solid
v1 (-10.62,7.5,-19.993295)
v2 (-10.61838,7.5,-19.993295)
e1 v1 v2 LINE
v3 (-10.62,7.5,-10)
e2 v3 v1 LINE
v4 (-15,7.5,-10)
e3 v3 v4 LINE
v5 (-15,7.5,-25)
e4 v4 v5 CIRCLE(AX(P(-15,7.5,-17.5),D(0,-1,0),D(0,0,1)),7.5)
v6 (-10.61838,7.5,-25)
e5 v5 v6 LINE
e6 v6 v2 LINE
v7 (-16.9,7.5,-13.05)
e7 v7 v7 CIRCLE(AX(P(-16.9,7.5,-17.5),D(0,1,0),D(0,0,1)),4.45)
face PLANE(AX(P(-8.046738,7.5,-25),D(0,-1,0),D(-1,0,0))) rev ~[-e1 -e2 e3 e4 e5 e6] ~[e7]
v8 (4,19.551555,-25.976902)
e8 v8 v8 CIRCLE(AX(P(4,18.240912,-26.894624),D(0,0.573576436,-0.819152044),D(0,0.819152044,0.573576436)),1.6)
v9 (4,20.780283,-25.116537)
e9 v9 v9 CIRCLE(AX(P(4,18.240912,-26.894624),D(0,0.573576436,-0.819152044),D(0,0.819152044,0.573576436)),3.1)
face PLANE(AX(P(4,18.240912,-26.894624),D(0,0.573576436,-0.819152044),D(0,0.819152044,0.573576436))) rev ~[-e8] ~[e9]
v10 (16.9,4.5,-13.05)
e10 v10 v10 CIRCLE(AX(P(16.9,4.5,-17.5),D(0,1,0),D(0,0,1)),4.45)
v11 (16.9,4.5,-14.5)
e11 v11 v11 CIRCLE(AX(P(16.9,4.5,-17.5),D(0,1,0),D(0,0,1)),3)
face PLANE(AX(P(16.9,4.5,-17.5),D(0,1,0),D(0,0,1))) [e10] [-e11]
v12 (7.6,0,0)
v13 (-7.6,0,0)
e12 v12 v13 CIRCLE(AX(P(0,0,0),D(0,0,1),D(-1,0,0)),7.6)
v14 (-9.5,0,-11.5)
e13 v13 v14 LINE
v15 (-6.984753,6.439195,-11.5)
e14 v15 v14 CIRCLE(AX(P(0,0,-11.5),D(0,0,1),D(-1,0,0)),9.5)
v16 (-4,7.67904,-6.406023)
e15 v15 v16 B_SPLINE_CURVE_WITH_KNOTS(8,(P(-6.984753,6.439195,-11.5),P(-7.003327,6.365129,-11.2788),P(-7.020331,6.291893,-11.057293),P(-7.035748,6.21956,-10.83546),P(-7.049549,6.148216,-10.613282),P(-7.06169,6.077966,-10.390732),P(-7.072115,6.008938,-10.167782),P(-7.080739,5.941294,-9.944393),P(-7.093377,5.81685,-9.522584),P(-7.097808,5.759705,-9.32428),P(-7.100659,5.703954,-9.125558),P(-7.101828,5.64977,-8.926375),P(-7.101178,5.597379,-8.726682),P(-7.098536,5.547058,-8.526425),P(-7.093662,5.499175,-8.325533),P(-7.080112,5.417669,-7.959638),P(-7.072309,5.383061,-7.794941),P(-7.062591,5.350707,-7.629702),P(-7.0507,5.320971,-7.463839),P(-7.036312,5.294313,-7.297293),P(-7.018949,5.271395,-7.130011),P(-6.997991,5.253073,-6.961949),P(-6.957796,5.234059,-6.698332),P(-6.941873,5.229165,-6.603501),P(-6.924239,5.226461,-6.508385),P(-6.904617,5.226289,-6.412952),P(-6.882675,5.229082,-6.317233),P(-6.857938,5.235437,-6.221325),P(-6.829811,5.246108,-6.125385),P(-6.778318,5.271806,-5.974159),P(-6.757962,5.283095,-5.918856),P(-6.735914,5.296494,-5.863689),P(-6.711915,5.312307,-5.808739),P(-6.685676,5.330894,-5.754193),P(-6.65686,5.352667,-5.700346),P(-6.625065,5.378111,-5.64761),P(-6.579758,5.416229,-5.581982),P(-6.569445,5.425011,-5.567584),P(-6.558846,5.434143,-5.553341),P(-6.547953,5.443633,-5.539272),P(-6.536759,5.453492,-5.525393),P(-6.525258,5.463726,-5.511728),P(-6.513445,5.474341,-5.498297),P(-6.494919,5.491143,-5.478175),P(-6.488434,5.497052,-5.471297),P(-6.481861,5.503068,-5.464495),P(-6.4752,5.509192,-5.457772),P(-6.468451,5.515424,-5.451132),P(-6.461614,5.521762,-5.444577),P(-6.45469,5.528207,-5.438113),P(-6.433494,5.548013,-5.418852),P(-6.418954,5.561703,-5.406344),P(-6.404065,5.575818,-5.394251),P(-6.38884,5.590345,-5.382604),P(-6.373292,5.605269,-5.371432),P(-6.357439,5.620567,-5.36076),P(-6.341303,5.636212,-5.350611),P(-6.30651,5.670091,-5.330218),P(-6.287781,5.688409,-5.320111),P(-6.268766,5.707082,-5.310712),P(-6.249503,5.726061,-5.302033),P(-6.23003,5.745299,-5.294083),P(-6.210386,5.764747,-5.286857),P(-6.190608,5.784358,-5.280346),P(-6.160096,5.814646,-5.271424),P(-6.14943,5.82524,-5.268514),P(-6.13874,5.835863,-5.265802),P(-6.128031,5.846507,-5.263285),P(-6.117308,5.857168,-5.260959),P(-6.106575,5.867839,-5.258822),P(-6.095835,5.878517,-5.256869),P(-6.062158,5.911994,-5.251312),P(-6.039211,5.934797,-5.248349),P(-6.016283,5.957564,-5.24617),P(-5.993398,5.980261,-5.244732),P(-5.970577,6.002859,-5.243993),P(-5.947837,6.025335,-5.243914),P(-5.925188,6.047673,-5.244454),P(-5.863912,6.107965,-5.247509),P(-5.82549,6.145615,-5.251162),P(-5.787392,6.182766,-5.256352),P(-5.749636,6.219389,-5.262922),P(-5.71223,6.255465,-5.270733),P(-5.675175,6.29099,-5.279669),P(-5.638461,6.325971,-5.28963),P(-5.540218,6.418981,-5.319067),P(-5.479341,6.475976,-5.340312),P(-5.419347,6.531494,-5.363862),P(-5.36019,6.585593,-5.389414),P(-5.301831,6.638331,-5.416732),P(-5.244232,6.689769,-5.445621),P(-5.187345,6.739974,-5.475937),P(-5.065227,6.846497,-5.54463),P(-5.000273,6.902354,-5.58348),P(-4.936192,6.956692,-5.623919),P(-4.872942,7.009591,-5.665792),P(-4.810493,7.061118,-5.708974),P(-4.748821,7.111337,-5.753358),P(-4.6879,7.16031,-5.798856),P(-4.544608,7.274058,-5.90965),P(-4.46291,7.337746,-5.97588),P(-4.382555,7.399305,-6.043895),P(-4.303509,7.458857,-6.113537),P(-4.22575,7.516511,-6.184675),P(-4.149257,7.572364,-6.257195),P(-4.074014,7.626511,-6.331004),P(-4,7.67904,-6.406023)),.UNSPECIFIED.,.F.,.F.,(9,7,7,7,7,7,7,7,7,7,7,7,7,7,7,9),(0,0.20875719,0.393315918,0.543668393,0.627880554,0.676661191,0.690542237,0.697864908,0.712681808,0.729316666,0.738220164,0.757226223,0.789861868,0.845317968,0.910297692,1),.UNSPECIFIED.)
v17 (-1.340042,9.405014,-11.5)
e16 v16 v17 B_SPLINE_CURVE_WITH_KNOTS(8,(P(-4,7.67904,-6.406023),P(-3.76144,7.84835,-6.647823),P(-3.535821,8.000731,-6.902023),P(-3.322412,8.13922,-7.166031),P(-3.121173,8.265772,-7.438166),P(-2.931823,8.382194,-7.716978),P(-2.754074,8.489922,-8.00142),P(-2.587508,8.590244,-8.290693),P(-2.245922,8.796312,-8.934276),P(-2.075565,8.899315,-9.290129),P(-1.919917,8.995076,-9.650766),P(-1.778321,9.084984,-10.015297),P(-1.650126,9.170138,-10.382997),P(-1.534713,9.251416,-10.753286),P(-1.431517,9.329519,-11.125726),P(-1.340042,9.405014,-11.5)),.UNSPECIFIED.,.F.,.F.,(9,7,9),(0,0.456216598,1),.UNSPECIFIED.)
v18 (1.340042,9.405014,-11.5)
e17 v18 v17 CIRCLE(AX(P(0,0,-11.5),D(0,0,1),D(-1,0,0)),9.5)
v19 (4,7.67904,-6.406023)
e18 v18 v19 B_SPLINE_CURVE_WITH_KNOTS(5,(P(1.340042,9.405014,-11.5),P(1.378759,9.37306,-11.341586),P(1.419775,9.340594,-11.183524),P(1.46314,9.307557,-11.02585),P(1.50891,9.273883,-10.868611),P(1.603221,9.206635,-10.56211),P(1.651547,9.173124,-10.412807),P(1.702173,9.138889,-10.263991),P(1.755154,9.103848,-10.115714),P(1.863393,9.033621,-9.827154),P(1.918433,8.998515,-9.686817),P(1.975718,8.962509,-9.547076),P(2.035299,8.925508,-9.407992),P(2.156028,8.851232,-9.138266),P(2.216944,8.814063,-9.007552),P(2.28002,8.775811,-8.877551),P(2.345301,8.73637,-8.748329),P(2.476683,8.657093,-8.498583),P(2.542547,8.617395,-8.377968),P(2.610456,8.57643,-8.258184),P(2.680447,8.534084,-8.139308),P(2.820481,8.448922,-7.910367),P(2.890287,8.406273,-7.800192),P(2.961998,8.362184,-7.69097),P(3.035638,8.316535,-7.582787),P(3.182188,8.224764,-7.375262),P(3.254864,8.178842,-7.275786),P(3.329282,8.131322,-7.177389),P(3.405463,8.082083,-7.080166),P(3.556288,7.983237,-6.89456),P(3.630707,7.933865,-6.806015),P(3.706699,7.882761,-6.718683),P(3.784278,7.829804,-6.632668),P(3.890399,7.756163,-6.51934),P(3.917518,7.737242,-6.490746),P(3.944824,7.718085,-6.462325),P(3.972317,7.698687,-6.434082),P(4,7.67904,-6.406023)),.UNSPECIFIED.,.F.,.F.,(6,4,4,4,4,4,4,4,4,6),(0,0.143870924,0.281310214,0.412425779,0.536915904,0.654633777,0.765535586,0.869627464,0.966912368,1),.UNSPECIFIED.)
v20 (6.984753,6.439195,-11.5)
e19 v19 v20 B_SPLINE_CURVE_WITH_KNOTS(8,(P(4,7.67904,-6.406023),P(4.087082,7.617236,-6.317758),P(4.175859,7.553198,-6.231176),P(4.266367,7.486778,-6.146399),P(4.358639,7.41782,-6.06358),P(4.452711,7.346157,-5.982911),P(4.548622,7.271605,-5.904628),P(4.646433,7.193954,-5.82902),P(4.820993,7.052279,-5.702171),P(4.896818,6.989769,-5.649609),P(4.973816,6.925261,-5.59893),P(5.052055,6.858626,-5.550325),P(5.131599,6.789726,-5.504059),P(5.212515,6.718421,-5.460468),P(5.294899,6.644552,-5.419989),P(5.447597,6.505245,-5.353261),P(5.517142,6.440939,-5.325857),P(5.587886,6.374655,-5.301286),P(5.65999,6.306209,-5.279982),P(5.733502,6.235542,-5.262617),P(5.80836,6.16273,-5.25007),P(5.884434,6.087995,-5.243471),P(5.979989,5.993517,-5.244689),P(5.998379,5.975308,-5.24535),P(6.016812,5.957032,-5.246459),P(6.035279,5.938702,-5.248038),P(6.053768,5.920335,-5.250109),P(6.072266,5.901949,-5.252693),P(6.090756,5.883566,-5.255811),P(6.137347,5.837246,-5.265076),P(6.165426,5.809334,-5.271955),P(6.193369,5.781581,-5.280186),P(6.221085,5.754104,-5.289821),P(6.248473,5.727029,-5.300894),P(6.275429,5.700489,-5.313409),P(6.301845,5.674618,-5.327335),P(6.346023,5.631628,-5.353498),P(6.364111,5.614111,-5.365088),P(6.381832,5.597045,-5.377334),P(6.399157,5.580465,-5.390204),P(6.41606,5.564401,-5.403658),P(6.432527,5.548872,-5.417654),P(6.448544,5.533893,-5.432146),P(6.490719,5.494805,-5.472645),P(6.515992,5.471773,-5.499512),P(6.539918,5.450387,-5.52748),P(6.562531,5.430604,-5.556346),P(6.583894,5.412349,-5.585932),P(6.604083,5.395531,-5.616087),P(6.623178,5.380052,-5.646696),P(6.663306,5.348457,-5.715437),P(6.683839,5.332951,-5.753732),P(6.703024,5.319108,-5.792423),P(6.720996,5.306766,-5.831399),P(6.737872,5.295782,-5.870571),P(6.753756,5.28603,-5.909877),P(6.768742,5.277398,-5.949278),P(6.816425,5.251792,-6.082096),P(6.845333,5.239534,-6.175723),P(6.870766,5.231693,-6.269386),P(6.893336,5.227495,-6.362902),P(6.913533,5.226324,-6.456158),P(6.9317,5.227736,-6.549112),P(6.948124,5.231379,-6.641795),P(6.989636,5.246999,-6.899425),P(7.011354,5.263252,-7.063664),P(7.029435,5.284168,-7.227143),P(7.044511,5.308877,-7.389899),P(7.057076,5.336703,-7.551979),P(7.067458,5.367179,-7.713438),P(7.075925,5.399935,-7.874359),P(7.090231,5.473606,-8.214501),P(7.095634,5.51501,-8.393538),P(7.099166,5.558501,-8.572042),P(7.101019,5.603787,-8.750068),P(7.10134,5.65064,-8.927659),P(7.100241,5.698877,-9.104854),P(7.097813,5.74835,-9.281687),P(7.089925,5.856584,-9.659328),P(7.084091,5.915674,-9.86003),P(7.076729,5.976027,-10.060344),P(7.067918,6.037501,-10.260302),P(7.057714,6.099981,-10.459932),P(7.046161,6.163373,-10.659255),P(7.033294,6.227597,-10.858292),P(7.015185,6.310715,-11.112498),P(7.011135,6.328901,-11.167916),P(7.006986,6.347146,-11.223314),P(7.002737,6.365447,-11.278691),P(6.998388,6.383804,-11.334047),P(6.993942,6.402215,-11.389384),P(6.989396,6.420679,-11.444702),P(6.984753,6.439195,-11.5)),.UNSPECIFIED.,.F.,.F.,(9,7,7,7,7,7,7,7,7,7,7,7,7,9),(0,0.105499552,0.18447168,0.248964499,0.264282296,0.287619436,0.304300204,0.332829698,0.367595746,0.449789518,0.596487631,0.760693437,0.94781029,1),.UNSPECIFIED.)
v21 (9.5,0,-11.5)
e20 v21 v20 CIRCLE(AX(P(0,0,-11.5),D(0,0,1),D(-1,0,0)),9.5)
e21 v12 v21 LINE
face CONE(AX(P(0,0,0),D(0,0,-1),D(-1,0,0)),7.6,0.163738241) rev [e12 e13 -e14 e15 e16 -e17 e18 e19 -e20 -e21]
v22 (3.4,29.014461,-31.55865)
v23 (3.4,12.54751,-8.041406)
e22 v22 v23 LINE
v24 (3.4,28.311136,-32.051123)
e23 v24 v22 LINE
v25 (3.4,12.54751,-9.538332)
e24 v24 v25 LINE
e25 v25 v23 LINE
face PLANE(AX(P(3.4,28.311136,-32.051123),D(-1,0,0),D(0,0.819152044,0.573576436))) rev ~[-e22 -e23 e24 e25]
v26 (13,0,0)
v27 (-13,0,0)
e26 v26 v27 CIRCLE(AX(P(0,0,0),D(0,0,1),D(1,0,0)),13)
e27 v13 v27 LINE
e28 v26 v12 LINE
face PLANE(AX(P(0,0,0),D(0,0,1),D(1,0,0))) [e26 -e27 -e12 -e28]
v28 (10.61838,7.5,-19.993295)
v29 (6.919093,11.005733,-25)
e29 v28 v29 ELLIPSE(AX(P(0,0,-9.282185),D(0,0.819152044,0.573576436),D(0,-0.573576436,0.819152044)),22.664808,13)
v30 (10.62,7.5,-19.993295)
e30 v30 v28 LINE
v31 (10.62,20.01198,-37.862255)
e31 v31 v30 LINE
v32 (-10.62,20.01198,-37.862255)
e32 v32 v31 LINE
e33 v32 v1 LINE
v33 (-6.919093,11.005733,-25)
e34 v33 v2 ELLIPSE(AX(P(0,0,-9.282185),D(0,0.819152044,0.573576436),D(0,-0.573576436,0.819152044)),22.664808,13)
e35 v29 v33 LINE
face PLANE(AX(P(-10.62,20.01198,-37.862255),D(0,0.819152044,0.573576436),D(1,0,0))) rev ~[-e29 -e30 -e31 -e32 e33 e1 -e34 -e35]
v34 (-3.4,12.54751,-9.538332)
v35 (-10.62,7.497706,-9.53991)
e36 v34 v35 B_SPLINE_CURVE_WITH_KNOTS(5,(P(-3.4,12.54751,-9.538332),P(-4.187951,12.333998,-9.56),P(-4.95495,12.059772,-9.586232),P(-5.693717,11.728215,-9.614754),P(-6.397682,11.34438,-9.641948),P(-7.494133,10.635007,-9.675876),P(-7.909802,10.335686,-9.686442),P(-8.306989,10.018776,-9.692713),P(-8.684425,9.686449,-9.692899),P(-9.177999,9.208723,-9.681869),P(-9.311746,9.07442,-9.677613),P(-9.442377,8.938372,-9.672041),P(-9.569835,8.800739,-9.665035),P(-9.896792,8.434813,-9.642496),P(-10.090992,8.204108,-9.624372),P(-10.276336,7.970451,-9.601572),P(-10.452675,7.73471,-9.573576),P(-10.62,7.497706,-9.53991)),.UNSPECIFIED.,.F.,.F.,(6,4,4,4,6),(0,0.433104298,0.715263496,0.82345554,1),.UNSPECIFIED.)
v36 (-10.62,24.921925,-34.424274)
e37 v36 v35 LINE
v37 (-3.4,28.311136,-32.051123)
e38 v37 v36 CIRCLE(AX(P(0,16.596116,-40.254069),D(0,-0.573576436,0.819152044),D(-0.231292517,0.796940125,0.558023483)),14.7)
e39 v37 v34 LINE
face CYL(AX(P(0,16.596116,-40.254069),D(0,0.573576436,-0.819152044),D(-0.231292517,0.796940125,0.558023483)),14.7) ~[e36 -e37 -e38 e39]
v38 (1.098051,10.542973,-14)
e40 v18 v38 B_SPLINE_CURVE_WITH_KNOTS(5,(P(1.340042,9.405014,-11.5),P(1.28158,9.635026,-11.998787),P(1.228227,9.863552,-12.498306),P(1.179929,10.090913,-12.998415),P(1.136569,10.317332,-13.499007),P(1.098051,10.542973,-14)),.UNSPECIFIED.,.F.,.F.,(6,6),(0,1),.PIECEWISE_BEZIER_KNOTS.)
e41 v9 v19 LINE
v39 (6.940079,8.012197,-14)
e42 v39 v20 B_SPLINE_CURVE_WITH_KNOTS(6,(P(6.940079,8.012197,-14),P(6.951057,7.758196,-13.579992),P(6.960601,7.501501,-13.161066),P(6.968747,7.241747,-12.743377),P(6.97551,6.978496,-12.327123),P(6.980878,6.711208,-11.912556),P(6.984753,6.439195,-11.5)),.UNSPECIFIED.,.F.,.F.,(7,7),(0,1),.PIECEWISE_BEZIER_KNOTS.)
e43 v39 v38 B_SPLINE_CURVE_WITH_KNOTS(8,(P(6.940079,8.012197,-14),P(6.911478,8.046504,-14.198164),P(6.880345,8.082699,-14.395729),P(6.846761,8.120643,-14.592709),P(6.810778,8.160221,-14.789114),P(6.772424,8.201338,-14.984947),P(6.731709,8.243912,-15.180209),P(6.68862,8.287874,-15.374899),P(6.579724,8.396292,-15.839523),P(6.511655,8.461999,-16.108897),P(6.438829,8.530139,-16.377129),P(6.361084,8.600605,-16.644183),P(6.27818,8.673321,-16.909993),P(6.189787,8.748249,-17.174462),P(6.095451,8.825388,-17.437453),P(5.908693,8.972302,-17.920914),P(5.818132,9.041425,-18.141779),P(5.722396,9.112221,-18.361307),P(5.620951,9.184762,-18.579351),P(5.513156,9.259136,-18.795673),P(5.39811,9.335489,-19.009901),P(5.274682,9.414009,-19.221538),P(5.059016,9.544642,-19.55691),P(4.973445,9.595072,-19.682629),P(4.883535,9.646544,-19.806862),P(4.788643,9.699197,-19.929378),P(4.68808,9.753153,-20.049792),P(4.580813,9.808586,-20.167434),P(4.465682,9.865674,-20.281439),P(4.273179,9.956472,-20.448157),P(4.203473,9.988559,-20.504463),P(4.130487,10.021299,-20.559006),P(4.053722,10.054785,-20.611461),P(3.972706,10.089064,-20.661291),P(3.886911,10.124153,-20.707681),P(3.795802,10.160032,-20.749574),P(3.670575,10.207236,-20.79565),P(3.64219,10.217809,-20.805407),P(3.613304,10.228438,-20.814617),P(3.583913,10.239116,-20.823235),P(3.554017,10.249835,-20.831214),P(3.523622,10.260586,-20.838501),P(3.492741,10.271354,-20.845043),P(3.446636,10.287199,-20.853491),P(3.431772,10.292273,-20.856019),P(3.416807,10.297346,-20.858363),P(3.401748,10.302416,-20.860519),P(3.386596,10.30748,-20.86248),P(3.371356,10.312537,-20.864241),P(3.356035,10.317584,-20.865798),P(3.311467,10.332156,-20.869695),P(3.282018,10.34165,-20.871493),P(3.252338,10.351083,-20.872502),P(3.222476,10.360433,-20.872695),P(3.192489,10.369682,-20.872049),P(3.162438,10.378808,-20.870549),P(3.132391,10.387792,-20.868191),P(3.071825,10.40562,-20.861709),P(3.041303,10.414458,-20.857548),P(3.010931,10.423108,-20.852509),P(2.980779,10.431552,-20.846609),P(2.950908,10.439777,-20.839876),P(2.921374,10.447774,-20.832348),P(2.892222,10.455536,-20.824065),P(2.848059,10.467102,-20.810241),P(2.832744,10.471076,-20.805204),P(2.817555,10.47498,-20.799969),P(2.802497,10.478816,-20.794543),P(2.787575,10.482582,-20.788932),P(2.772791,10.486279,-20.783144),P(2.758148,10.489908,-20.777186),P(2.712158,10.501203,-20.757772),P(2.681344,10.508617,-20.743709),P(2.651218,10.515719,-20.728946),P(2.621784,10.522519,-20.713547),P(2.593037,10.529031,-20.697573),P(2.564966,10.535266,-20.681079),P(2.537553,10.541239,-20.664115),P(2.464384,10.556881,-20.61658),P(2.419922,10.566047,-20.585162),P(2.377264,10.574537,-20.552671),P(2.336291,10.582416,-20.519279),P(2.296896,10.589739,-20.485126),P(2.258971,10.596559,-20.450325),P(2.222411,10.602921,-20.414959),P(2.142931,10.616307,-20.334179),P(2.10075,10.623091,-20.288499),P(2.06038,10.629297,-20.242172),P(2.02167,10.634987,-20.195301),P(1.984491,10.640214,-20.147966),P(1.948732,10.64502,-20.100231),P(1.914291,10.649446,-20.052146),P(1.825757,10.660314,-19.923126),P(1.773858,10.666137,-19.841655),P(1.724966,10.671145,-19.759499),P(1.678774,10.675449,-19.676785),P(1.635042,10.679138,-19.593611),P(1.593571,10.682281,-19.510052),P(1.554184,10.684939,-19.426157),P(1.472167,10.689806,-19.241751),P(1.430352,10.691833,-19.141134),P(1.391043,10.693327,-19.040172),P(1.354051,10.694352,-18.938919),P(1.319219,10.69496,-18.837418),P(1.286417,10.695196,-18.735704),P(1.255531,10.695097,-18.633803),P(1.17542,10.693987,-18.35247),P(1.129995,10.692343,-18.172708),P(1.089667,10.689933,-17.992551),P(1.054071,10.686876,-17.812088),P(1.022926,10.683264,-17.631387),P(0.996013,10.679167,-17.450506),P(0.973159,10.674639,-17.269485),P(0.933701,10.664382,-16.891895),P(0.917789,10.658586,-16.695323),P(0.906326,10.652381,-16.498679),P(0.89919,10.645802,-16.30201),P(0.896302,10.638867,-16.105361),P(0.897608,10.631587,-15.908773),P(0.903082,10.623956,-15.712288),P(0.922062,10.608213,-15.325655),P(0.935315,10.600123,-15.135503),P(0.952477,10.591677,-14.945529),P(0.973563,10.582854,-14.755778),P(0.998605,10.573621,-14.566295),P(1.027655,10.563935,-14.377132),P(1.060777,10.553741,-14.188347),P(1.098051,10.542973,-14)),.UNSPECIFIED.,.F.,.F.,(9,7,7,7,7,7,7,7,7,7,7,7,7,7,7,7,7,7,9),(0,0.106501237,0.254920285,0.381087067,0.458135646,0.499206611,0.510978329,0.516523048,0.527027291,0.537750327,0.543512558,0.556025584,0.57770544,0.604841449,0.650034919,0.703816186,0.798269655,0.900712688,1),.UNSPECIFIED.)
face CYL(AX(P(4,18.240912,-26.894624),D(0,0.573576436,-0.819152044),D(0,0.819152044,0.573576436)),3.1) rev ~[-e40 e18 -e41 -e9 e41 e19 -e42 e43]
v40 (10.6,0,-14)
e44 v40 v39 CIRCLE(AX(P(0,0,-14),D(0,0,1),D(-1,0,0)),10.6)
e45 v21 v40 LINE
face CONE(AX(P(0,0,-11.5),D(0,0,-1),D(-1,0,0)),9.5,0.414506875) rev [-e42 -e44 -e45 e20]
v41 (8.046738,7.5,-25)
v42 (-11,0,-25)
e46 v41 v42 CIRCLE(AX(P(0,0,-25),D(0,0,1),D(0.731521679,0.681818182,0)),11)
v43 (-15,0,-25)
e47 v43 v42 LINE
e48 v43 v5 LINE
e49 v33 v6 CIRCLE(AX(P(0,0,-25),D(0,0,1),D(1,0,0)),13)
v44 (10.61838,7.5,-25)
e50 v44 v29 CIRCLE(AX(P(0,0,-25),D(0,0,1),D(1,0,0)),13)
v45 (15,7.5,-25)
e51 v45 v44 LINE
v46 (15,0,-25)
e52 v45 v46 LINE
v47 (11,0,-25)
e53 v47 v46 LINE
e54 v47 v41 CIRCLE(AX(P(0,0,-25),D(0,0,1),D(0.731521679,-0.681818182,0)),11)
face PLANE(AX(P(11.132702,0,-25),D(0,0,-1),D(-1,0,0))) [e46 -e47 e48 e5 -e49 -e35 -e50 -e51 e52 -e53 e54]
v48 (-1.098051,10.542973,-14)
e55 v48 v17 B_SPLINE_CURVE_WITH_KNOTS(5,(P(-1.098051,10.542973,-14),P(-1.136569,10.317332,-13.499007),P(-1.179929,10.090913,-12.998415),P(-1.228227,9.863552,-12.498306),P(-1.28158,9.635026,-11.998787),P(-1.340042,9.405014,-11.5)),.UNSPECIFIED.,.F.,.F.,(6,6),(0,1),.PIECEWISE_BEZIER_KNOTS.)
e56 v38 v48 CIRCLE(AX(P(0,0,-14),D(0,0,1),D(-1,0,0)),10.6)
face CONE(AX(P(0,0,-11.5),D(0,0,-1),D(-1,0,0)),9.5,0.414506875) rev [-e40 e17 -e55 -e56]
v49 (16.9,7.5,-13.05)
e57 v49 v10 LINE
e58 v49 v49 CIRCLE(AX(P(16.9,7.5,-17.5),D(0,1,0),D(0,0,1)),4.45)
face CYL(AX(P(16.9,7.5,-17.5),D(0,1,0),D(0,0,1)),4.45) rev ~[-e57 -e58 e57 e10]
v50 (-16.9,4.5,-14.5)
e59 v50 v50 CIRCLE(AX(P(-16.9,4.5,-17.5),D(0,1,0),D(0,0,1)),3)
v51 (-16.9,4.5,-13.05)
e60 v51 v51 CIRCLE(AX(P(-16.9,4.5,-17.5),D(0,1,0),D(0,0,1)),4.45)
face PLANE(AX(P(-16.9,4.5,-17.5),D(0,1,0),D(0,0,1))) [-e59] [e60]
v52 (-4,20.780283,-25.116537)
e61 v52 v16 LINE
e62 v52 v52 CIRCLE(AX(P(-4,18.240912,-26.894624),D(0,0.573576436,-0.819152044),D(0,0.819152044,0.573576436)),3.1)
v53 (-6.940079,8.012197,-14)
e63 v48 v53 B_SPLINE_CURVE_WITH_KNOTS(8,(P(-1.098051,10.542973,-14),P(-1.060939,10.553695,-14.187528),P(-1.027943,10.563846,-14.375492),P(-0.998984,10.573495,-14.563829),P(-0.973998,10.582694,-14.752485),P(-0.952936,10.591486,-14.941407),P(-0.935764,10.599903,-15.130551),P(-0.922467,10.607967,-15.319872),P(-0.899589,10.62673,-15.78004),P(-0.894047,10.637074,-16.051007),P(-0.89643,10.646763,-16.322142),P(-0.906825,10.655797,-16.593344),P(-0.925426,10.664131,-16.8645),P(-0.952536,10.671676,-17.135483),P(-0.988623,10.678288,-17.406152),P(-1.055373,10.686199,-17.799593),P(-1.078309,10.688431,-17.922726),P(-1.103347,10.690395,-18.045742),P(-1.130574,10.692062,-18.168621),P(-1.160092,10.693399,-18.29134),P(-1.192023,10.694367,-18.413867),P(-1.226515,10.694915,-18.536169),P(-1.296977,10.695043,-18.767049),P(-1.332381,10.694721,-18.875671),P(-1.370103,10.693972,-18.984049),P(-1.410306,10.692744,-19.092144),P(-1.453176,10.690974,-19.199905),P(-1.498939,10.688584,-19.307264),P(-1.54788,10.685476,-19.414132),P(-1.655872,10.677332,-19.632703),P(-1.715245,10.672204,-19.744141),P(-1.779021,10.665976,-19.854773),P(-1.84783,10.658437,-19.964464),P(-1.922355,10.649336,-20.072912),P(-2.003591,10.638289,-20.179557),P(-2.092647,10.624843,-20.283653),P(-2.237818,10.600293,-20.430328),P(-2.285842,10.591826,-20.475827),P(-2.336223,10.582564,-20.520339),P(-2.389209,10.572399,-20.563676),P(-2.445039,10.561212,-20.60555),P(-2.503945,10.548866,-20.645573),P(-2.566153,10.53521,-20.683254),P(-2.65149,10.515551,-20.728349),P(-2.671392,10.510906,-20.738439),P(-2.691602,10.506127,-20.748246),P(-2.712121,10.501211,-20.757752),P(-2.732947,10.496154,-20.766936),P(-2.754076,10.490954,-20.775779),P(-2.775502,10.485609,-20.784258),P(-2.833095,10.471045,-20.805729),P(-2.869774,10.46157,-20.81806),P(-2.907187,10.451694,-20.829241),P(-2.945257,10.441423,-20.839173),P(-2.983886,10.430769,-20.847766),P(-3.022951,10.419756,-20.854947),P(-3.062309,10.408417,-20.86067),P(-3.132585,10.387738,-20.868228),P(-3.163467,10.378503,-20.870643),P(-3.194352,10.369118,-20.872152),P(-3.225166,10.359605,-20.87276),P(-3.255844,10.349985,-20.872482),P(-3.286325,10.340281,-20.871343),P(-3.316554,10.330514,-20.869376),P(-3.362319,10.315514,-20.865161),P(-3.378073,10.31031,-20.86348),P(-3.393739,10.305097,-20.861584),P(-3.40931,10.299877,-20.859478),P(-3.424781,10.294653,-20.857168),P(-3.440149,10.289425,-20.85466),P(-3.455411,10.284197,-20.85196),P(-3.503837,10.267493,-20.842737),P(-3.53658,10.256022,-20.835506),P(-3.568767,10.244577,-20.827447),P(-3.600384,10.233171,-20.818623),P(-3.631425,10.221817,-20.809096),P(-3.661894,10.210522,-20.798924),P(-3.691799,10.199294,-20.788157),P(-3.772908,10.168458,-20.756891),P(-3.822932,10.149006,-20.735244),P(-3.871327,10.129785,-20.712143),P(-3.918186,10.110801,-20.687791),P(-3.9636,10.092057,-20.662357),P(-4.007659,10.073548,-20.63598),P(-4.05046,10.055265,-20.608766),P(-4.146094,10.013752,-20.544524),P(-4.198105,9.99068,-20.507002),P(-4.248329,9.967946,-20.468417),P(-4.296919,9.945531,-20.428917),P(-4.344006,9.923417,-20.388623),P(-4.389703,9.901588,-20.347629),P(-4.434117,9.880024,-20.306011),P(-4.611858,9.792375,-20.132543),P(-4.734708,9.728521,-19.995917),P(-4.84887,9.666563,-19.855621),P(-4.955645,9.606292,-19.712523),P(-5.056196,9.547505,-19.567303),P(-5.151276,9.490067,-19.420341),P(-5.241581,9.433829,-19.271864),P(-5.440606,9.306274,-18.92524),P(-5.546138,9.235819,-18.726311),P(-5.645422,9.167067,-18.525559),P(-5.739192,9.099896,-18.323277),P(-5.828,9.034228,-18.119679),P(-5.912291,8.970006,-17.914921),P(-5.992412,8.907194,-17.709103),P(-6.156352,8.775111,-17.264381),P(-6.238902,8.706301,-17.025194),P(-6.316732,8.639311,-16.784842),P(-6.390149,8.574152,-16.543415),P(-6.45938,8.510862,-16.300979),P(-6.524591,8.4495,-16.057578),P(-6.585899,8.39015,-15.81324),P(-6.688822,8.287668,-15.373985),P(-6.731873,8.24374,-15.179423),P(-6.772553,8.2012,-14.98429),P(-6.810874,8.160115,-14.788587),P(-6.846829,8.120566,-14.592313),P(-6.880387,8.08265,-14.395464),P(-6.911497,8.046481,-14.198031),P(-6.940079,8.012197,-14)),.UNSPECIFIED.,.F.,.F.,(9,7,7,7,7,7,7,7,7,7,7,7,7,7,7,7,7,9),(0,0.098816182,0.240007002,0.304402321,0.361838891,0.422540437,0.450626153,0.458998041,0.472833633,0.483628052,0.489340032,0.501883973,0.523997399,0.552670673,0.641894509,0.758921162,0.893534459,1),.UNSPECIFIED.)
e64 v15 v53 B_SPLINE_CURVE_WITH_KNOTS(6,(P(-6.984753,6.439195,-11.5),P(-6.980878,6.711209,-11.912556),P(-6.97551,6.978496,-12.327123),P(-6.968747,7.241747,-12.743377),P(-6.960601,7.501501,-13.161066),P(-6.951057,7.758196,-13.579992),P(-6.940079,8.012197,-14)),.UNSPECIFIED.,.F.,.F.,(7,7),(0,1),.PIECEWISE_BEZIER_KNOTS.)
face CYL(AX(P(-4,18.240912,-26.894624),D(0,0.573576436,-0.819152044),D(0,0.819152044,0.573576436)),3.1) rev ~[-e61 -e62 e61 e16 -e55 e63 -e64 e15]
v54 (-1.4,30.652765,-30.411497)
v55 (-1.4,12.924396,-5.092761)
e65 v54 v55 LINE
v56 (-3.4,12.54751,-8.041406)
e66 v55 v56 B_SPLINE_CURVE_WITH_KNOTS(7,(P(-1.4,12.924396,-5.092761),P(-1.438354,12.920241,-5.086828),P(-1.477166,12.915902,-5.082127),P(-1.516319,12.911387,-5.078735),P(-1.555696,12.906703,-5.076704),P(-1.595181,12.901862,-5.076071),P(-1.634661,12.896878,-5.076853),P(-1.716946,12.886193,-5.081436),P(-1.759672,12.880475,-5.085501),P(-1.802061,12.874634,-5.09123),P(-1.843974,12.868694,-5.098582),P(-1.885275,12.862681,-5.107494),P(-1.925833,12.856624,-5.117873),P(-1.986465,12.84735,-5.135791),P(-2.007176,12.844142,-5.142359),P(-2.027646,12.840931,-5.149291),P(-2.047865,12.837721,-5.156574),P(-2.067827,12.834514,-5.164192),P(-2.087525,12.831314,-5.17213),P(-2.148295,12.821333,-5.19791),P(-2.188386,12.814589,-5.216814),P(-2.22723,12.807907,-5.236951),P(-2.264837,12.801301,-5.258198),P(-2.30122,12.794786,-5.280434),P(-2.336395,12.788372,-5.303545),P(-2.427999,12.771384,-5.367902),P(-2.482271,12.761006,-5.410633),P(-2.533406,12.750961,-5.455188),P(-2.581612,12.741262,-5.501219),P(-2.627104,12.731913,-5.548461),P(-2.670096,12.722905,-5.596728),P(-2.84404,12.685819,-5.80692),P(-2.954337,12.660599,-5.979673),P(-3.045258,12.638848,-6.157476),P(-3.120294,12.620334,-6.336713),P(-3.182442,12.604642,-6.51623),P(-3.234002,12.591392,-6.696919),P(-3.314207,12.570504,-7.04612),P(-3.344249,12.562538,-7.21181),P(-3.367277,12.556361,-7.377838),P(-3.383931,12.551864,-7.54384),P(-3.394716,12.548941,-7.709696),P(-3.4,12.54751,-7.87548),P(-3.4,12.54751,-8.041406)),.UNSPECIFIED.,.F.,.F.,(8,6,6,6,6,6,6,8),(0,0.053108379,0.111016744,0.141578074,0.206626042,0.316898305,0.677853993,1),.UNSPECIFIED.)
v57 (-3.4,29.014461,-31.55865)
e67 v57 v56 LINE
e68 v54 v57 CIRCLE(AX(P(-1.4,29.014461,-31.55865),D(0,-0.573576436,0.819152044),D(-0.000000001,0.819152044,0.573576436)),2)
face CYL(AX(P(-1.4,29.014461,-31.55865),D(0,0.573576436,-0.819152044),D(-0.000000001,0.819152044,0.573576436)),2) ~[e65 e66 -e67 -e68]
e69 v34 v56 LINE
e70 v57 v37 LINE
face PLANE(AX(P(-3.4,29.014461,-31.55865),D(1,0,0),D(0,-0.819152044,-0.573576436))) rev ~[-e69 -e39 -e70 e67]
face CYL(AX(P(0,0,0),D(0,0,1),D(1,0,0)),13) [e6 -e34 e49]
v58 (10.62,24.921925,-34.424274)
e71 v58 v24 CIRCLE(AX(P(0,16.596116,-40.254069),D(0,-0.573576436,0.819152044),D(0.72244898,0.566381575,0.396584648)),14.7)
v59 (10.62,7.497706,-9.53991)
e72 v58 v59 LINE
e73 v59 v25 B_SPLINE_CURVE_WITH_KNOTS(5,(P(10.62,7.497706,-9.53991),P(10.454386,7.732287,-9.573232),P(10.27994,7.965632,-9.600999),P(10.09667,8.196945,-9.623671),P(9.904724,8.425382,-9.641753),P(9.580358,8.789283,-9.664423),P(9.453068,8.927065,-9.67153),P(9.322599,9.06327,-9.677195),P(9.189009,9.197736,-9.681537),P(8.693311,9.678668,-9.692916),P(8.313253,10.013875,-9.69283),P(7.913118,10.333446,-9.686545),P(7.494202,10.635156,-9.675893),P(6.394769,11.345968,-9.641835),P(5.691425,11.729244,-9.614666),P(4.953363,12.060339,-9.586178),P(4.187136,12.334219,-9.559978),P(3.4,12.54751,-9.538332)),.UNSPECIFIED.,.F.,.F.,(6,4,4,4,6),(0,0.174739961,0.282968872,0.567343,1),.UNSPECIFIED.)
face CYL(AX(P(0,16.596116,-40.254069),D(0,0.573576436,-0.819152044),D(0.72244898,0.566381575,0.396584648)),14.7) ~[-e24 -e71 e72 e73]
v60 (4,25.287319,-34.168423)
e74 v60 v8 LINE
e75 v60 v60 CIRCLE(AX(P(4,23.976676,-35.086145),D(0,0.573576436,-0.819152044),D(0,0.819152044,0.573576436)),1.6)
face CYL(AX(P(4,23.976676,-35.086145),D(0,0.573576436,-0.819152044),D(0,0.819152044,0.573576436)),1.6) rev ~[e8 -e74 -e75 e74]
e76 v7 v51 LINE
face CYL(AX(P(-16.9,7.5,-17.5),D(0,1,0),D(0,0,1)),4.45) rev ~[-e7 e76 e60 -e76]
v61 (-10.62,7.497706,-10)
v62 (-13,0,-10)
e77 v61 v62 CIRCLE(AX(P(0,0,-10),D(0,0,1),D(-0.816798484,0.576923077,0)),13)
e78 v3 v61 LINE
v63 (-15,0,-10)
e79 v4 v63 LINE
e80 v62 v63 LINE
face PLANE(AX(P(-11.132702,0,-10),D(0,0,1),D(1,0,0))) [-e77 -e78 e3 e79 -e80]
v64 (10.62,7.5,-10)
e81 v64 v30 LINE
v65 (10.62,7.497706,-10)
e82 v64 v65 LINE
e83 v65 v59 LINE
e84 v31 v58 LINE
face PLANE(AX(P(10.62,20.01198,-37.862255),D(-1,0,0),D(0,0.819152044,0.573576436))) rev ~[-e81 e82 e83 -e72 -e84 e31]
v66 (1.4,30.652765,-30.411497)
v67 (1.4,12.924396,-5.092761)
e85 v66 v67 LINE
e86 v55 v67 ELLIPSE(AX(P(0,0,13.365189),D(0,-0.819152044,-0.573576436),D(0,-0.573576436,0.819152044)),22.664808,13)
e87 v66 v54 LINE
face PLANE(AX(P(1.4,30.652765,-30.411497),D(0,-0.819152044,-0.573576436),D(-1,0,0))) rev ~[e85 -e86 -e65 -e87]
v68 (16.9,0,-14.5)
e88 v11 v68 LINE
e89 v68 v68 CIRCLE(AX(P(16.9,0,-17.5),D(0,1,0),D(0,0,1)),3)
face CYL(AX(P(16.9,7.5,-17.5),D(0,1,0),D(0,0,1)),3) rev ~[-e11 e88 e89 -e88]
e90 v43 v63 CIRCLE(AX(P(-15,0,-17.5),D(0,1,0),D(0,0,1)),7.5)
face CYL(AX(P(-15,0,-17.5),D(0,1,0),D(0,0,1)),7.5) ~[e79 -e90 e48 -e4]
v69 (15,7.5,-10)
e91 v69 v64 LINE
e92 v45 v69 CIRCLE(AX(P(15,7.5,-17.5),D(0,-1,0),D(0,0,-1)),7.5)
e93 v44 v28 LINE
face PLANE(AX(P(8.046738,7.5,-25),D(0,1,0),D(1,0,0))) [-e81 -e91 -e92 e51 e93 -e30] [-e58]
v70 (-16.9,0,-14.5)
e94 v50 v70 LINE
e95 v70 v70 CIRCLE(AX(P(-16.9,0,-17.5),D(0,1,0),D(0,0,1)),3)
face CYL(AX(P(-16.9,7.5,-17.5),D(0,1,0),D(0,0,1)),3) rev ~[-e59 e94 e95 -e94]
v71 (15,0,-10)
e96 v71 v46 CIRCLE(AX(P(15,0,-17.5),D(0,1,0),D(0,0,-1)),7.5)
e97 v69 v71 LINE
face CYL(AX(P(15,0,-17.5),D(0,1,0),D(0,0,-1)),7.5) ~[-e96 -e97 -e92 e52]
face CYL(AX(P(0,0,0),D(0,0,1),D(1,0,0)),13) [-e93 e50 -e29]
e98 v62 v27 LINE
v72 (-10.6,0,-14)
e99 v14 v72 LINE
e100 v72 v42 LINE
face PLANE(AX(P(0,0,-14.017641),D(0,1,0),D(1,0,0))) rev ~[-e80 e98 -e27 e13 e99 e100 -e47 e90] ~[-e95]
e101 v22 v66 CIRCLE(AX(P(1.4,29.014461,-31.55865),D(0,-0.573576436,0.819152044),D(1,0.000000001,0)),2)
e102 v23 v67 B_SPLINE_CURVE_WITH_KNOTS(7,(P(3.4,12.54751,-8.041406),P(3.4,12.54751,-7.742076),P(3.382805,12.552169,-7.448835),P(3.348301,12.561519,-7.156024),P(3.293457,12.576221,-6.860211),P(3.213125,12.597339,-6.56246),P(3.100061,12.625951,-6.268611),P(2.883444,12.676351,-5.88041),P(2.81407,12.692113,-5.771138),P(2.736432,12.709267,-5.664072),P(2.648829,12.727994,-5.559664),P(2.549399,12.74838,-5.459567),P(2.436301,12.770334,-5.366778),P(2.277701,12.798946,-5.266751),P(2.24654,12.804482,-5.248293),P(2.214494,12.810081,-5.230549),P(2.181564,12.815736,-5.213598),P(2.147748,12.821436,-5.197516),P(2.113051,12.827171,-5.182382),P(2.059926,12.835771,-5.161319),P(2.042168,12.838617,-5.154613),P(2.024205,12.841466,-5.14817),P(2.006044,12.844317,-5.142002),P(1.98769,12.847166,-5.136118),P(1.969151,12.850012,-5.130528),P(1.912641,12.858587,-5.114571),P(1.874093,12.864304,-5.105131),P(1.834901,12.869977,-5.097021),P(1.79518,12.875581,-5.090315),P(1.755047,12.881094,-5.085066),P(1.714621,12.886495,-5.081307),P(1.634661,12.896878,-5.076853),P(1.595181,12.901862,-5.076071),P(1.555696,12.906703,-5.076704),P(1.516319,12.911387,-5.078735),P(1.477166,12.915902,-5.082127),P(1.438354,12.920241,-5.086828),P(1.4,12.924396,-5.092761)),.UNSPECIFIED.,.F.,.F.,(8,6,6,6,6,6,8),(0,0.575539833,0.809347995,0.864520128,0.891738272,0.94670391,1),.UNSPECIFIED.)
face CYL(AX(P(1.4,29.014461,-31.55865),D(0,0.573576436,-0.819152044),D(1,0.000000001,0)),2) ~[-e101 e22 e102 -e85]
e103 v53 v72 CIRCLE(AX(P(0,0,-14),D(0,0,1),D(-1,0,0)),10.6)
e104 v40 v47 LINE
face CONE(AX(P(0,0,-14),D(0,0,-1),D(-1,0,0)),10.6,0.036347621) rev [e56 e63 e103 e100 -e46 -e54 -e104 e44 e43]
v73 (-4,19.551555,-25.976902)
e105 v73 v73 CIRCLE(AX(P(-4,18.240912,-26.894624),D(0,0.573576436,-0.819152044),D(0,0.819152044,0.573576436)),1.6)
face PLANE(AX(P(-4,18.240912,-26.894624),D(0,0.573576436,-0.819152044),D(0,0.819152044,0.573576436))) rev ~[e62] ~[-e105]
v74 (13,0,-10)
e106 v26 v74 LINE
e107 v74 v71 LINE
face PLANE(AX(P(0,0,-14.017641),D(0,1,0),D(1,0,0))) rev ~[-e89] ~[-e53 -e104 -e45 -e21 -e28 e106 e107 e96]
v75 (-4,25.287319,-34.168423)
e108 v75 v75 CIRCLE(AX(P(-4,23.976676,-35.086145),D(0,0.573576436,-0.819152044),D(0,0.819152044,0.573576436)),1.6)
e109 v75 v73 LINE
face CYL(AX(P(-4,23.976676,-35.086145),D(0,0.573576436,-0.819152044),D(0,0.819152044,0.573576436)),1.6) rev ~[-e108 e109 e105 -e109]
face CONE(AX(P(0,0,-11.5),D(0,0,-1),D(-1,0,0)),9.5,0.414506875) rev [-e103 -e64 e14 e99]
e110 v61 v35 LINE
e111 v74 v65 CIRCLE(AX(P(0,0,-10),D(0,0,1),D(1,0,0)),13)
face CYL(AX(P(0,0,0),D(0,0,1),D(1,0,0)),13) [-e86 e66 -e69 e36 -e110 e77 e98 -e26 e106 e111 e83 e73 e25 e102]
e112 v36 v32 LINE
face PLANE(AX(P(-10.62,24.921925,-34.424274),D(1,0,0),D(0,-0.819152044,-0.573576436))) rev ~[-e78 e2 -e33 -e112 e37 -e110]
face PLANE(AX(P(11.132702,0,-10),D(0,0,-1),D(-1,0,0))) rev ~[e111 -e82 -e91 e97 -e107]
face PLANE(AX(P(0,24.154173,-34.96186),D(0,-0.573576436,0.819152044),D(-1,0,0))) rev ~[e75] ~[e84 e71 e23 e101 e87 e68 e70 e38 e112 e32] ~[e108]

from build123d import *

# Parameters (mm, degrees)
SKETCH1_R             = 13
BOSS_EXTRUDE1_DEPTH   = 25
BOSS_EXTRUDE2_DEPTH   = 7.5
BOSS_EXTRUDE2_2_DEPTH = 7.5
BOSS_EXTRUDE3_DEPTH   = 15
SKETCH5_R             = 3
CUT_EXTRUDE1_DEPTH    = 40.389084782
SKETCH6_R             = 4.45
CUT_EXTRUDE2_DEPTH    = 3
SKETCH7_R             = 4
CUT_EXTRUDE3_DEPTH    = 7.5
BOSS_EXTRUDE6_REACH   = 57.809
SKETCH10_R            = 1.6
CUT_EXTRUDE4_DEPTH    = 56.808932723
SKETCH11_R            = 3.1
CUT_EXTRUDE5_DEPTH    = 48.070587643
SKETCH12_W            = 50
SKETCH12_H            = 50
CUT_EXTRUDE8_DEPTH    = 54.659969844


with BuildPart() as part:
    # Sketch1 → Boss-Extrude1 (new body)
    with BuildSketch(Plane.XY):
        Circle(SKETCH1_R)
    extrude(amount=-BOSS_EXTRUDE1_DEPTH)

    # Sketch2 → Cut-Revolve1 (revolve, cut)
    with BuildSketch(Plane(origin=(0, 0, 0), x_dir=(0, 0, -1), z_dir=(1, 0, 0))):
        Polygon((0, 0), (0, 7.6), (11.5, 9.5), (14, 10.6), (25, 11), (25, 0), align=None)
    revolve(axis=Axis((0, 0, -25), (0, 0, 1)), mode=Mode.SUBTRACT)



with BuildPart() as body_2:
    # Sketch3 → Boss-Extrude2 (new, symmetric)
    with BuildSketch(Plane(origin=(0, 0, 0), x_dir=(1, 0, 0), z_dir=(0, 1, 0))):
        with BuildLine():
            Line((-13, 25), (-13, 10))
            Line((-13, 10), (-15, 10))
            ThreePointArc((-15, 10), (-22.5, 17.5), (-15, 25))
            Line((-15, 25), (-13, 25))
        make_face()
    extrude(amount=BOSS_EXTRUDE2_DEPTH, both=True)


with BuildPart() as body_3:
    # Sketch3 → Boss-Extrude2 2 (new, symmetric)
    with BuildSketch(Plane(origin=(0, 0, 0), x_dir=(1, 0, 0), z_dir=(0, 1, 0))):
        with BuildLine():
            Line((13, 25), (15, 25))
            ThreePointArc((15, 25), (22.5, 17.5), (15, 10))
            Line((15, 10), (13, 10))
            Line((13, 10), (13, 25))
        make_face()
    extrude(amount=BOSS_EXTRUDE2_2_DEPTH, both=True)


with BuildPart() as part_1:
    add(part.part)

    add(body_2.part)  # Boss-Extrude3 merges body 2

    add(body_3.part)  # Boss-Extrude3 merges body 3
    # Sketch4 → Boss-Extrude3 (add)
    with BuildSketch(Plane(origin=(0, 0, -25), x_dir=(-1, 0, 0), z_dir=(0, 0, -1))):
        with BuildLine():
            Line((-13, 7.5), (-13, -7.5))
            Line((-13, -7.5), (-8.04673847, -7.5))
            ThreePointArc((-8.04673847, -7.5), (-11, 0), (-8.04673847, 7.5))
            Line((-8.04673847, 7.5), (-13, 7.5))
        make_face()
        with BuildLine():
            Line((13, 7.5), (13, -7.5))
            Line((13, -7.5), (8.04673847, -7.5))
            ThreePointArc((8.04673847, -7.5), (11, 0), (8.04673847, 7.5))
            Line((8.04673847, 7.5), (13, 7.5))
        make_face()
    extrude(amount=-BOSS_EXTRUDE3_DEPTH)

    # Sketch5 → Cut-Extrude1 (cut, through all)
    with BuildSketch(Plane(origin=(0, 7.5, 0), x_dir=(1, 0, 0), z_dir=(0, 1, 0))):
        with Locations((16.9, 17.5)):
            Circle(SKETCH5_R)
        with Locations((-16.9, 17.5)):
            Circle(SKETCH5_R)
    extrude(amount=-CUT_EXTRUDE1_DEPTH, mode=Mode.SUBTRACT)

    # Sketch6 → Cut-Extrude2 (cut)
    with BuildSketch(Plane(origin=(0, 7.5, 0), x_dir=(1, 0, 0), z_dir=(0, 1, 0))):
        with Locations((-16.9, 17.5)):
            Circle(SKETCH6_R)
        with Locations((16.9, 17.5)):
            Circle(SKETCH6_R)
    extrude(amount=-CUT_EXTRUDE2_DEPTH, mode=Mode.SUBTRACT)

    # Sketch7 → Cut-Extrude3 (cut)
    with BuildSketch(Plane.XZ.offset(7.5)):
        with Locations((-16.9, -17.5)):
            Circle(SKETCH7_R)
        with Locations((16.9, -17.5)):
            Circle(SKETCH7_R)
    extrude(amount=-CUT_EXTRUDE3_DEPTH, mode=Mode.SUBTRACT)

    # Sketch9 → Boss-Extrude6 (add, up to next)
    with BuildSketch(Plane(origin=(0, 24.373180657, -34.808509373), x_dir=(1, 0, 0), z_dir=(0, 0.5735764363510444, -0.819152044288993)), mode=Mode.PRIVATE) as boss_extrude6_sk1:
        with BuildLine():
            Line((-10.62, 5.324042616), (10.62, 5.324042616))
            Line((10.62, 5.324042616), (10.62, -0.669893629))
            ThreePointArc((10.62, -0.669893629), (7.308881484, -3.260182231), (3.4, -4.807355917))
            Line((3.4, -4.807355917), (3.4, -5.665957384))
            ThreePointArc((3.4, -5.665957384), (2.814213562, -7.080170946), (1.4, -7.665957384))
            Line((1.4, -7.665957384), (-1.4, -7.665957384))
            ThreePointArc((-1.4, -7.665957384), (-2.814213562, -7.080170946), (-3.4, -5.665957384))
            Line((-3.4, -5.665957384), (-3.4, -4.807355917))
            ThreePointArc((-3.4, -4.807355917), (-7.308881484, -3.260182231), (-10.62, -0.669893629))
            Line((-10.62, -0.669893629), (-10.62, 5.324042616))
        make_face()
    boss_extrude6_tool1 = extrude(boss_extrude6_sk1.sketch, amount=-BOSS_EXTRUDE6_REACH, mode=Mode.PRIVATE) - part_1.part
    add(boss_extrude6_tool1.solids().sort_by_distance((0, 24.258264, -34.888975))[0])

    # Sketch10 → Cut-Extrude4 (cut, through all)
    with BuildSketch(Plane(origin=(0, 24.373180657, -34.808509373), x_dir=(-1, 0, 0), z_dir=(0, 0.5735764363510444, -0.819152044288993))):
        with Locations((-4, -0.484042616)):
            Circle(SKETCH10_R)
        with Locations((4, -0.484042616)):
            Circle(SKETCH10_R)
    extrude(amount=-CUT_EXTRUDE4_DEPTH, mode=Mode.SUBTRACT)

    # Sketch11 → Cut-Extrude5 (cut, through all)
    with BuildSketch(Plane(origin=(0, 18.637416293, -26.61698893), x_dir=(1, 0, 0), z_dir=(0, 0.5735764363510444, -0.819152044288993))):
        with Locations((4, 0.484042616)):
            Circle(SKETCH11_R)
        with Locations((-4, 0.484042616)):
            Circle(SKETCH11_R)
    extrude(amount=-CUT_EXTRUDE5_DEPTH, mode=Mode.SUBTRACT)

    # Sketch12 → Cut-Extrude8 (cut, through all)
    with BuildSketch(Plane(origin=(0, 0, 0), x_dir=(1, 0, 0), z_dir=(0, 1, 0))):
        with Locations((0, 14.017641389)):
            Rectangle(SKETCH12_W, SKETCH12_H)
    extrude(amount=-CUT_EXTRUDE8_DEPTH, mode=Mode.SUBTRACT)


solid = part_1.part
